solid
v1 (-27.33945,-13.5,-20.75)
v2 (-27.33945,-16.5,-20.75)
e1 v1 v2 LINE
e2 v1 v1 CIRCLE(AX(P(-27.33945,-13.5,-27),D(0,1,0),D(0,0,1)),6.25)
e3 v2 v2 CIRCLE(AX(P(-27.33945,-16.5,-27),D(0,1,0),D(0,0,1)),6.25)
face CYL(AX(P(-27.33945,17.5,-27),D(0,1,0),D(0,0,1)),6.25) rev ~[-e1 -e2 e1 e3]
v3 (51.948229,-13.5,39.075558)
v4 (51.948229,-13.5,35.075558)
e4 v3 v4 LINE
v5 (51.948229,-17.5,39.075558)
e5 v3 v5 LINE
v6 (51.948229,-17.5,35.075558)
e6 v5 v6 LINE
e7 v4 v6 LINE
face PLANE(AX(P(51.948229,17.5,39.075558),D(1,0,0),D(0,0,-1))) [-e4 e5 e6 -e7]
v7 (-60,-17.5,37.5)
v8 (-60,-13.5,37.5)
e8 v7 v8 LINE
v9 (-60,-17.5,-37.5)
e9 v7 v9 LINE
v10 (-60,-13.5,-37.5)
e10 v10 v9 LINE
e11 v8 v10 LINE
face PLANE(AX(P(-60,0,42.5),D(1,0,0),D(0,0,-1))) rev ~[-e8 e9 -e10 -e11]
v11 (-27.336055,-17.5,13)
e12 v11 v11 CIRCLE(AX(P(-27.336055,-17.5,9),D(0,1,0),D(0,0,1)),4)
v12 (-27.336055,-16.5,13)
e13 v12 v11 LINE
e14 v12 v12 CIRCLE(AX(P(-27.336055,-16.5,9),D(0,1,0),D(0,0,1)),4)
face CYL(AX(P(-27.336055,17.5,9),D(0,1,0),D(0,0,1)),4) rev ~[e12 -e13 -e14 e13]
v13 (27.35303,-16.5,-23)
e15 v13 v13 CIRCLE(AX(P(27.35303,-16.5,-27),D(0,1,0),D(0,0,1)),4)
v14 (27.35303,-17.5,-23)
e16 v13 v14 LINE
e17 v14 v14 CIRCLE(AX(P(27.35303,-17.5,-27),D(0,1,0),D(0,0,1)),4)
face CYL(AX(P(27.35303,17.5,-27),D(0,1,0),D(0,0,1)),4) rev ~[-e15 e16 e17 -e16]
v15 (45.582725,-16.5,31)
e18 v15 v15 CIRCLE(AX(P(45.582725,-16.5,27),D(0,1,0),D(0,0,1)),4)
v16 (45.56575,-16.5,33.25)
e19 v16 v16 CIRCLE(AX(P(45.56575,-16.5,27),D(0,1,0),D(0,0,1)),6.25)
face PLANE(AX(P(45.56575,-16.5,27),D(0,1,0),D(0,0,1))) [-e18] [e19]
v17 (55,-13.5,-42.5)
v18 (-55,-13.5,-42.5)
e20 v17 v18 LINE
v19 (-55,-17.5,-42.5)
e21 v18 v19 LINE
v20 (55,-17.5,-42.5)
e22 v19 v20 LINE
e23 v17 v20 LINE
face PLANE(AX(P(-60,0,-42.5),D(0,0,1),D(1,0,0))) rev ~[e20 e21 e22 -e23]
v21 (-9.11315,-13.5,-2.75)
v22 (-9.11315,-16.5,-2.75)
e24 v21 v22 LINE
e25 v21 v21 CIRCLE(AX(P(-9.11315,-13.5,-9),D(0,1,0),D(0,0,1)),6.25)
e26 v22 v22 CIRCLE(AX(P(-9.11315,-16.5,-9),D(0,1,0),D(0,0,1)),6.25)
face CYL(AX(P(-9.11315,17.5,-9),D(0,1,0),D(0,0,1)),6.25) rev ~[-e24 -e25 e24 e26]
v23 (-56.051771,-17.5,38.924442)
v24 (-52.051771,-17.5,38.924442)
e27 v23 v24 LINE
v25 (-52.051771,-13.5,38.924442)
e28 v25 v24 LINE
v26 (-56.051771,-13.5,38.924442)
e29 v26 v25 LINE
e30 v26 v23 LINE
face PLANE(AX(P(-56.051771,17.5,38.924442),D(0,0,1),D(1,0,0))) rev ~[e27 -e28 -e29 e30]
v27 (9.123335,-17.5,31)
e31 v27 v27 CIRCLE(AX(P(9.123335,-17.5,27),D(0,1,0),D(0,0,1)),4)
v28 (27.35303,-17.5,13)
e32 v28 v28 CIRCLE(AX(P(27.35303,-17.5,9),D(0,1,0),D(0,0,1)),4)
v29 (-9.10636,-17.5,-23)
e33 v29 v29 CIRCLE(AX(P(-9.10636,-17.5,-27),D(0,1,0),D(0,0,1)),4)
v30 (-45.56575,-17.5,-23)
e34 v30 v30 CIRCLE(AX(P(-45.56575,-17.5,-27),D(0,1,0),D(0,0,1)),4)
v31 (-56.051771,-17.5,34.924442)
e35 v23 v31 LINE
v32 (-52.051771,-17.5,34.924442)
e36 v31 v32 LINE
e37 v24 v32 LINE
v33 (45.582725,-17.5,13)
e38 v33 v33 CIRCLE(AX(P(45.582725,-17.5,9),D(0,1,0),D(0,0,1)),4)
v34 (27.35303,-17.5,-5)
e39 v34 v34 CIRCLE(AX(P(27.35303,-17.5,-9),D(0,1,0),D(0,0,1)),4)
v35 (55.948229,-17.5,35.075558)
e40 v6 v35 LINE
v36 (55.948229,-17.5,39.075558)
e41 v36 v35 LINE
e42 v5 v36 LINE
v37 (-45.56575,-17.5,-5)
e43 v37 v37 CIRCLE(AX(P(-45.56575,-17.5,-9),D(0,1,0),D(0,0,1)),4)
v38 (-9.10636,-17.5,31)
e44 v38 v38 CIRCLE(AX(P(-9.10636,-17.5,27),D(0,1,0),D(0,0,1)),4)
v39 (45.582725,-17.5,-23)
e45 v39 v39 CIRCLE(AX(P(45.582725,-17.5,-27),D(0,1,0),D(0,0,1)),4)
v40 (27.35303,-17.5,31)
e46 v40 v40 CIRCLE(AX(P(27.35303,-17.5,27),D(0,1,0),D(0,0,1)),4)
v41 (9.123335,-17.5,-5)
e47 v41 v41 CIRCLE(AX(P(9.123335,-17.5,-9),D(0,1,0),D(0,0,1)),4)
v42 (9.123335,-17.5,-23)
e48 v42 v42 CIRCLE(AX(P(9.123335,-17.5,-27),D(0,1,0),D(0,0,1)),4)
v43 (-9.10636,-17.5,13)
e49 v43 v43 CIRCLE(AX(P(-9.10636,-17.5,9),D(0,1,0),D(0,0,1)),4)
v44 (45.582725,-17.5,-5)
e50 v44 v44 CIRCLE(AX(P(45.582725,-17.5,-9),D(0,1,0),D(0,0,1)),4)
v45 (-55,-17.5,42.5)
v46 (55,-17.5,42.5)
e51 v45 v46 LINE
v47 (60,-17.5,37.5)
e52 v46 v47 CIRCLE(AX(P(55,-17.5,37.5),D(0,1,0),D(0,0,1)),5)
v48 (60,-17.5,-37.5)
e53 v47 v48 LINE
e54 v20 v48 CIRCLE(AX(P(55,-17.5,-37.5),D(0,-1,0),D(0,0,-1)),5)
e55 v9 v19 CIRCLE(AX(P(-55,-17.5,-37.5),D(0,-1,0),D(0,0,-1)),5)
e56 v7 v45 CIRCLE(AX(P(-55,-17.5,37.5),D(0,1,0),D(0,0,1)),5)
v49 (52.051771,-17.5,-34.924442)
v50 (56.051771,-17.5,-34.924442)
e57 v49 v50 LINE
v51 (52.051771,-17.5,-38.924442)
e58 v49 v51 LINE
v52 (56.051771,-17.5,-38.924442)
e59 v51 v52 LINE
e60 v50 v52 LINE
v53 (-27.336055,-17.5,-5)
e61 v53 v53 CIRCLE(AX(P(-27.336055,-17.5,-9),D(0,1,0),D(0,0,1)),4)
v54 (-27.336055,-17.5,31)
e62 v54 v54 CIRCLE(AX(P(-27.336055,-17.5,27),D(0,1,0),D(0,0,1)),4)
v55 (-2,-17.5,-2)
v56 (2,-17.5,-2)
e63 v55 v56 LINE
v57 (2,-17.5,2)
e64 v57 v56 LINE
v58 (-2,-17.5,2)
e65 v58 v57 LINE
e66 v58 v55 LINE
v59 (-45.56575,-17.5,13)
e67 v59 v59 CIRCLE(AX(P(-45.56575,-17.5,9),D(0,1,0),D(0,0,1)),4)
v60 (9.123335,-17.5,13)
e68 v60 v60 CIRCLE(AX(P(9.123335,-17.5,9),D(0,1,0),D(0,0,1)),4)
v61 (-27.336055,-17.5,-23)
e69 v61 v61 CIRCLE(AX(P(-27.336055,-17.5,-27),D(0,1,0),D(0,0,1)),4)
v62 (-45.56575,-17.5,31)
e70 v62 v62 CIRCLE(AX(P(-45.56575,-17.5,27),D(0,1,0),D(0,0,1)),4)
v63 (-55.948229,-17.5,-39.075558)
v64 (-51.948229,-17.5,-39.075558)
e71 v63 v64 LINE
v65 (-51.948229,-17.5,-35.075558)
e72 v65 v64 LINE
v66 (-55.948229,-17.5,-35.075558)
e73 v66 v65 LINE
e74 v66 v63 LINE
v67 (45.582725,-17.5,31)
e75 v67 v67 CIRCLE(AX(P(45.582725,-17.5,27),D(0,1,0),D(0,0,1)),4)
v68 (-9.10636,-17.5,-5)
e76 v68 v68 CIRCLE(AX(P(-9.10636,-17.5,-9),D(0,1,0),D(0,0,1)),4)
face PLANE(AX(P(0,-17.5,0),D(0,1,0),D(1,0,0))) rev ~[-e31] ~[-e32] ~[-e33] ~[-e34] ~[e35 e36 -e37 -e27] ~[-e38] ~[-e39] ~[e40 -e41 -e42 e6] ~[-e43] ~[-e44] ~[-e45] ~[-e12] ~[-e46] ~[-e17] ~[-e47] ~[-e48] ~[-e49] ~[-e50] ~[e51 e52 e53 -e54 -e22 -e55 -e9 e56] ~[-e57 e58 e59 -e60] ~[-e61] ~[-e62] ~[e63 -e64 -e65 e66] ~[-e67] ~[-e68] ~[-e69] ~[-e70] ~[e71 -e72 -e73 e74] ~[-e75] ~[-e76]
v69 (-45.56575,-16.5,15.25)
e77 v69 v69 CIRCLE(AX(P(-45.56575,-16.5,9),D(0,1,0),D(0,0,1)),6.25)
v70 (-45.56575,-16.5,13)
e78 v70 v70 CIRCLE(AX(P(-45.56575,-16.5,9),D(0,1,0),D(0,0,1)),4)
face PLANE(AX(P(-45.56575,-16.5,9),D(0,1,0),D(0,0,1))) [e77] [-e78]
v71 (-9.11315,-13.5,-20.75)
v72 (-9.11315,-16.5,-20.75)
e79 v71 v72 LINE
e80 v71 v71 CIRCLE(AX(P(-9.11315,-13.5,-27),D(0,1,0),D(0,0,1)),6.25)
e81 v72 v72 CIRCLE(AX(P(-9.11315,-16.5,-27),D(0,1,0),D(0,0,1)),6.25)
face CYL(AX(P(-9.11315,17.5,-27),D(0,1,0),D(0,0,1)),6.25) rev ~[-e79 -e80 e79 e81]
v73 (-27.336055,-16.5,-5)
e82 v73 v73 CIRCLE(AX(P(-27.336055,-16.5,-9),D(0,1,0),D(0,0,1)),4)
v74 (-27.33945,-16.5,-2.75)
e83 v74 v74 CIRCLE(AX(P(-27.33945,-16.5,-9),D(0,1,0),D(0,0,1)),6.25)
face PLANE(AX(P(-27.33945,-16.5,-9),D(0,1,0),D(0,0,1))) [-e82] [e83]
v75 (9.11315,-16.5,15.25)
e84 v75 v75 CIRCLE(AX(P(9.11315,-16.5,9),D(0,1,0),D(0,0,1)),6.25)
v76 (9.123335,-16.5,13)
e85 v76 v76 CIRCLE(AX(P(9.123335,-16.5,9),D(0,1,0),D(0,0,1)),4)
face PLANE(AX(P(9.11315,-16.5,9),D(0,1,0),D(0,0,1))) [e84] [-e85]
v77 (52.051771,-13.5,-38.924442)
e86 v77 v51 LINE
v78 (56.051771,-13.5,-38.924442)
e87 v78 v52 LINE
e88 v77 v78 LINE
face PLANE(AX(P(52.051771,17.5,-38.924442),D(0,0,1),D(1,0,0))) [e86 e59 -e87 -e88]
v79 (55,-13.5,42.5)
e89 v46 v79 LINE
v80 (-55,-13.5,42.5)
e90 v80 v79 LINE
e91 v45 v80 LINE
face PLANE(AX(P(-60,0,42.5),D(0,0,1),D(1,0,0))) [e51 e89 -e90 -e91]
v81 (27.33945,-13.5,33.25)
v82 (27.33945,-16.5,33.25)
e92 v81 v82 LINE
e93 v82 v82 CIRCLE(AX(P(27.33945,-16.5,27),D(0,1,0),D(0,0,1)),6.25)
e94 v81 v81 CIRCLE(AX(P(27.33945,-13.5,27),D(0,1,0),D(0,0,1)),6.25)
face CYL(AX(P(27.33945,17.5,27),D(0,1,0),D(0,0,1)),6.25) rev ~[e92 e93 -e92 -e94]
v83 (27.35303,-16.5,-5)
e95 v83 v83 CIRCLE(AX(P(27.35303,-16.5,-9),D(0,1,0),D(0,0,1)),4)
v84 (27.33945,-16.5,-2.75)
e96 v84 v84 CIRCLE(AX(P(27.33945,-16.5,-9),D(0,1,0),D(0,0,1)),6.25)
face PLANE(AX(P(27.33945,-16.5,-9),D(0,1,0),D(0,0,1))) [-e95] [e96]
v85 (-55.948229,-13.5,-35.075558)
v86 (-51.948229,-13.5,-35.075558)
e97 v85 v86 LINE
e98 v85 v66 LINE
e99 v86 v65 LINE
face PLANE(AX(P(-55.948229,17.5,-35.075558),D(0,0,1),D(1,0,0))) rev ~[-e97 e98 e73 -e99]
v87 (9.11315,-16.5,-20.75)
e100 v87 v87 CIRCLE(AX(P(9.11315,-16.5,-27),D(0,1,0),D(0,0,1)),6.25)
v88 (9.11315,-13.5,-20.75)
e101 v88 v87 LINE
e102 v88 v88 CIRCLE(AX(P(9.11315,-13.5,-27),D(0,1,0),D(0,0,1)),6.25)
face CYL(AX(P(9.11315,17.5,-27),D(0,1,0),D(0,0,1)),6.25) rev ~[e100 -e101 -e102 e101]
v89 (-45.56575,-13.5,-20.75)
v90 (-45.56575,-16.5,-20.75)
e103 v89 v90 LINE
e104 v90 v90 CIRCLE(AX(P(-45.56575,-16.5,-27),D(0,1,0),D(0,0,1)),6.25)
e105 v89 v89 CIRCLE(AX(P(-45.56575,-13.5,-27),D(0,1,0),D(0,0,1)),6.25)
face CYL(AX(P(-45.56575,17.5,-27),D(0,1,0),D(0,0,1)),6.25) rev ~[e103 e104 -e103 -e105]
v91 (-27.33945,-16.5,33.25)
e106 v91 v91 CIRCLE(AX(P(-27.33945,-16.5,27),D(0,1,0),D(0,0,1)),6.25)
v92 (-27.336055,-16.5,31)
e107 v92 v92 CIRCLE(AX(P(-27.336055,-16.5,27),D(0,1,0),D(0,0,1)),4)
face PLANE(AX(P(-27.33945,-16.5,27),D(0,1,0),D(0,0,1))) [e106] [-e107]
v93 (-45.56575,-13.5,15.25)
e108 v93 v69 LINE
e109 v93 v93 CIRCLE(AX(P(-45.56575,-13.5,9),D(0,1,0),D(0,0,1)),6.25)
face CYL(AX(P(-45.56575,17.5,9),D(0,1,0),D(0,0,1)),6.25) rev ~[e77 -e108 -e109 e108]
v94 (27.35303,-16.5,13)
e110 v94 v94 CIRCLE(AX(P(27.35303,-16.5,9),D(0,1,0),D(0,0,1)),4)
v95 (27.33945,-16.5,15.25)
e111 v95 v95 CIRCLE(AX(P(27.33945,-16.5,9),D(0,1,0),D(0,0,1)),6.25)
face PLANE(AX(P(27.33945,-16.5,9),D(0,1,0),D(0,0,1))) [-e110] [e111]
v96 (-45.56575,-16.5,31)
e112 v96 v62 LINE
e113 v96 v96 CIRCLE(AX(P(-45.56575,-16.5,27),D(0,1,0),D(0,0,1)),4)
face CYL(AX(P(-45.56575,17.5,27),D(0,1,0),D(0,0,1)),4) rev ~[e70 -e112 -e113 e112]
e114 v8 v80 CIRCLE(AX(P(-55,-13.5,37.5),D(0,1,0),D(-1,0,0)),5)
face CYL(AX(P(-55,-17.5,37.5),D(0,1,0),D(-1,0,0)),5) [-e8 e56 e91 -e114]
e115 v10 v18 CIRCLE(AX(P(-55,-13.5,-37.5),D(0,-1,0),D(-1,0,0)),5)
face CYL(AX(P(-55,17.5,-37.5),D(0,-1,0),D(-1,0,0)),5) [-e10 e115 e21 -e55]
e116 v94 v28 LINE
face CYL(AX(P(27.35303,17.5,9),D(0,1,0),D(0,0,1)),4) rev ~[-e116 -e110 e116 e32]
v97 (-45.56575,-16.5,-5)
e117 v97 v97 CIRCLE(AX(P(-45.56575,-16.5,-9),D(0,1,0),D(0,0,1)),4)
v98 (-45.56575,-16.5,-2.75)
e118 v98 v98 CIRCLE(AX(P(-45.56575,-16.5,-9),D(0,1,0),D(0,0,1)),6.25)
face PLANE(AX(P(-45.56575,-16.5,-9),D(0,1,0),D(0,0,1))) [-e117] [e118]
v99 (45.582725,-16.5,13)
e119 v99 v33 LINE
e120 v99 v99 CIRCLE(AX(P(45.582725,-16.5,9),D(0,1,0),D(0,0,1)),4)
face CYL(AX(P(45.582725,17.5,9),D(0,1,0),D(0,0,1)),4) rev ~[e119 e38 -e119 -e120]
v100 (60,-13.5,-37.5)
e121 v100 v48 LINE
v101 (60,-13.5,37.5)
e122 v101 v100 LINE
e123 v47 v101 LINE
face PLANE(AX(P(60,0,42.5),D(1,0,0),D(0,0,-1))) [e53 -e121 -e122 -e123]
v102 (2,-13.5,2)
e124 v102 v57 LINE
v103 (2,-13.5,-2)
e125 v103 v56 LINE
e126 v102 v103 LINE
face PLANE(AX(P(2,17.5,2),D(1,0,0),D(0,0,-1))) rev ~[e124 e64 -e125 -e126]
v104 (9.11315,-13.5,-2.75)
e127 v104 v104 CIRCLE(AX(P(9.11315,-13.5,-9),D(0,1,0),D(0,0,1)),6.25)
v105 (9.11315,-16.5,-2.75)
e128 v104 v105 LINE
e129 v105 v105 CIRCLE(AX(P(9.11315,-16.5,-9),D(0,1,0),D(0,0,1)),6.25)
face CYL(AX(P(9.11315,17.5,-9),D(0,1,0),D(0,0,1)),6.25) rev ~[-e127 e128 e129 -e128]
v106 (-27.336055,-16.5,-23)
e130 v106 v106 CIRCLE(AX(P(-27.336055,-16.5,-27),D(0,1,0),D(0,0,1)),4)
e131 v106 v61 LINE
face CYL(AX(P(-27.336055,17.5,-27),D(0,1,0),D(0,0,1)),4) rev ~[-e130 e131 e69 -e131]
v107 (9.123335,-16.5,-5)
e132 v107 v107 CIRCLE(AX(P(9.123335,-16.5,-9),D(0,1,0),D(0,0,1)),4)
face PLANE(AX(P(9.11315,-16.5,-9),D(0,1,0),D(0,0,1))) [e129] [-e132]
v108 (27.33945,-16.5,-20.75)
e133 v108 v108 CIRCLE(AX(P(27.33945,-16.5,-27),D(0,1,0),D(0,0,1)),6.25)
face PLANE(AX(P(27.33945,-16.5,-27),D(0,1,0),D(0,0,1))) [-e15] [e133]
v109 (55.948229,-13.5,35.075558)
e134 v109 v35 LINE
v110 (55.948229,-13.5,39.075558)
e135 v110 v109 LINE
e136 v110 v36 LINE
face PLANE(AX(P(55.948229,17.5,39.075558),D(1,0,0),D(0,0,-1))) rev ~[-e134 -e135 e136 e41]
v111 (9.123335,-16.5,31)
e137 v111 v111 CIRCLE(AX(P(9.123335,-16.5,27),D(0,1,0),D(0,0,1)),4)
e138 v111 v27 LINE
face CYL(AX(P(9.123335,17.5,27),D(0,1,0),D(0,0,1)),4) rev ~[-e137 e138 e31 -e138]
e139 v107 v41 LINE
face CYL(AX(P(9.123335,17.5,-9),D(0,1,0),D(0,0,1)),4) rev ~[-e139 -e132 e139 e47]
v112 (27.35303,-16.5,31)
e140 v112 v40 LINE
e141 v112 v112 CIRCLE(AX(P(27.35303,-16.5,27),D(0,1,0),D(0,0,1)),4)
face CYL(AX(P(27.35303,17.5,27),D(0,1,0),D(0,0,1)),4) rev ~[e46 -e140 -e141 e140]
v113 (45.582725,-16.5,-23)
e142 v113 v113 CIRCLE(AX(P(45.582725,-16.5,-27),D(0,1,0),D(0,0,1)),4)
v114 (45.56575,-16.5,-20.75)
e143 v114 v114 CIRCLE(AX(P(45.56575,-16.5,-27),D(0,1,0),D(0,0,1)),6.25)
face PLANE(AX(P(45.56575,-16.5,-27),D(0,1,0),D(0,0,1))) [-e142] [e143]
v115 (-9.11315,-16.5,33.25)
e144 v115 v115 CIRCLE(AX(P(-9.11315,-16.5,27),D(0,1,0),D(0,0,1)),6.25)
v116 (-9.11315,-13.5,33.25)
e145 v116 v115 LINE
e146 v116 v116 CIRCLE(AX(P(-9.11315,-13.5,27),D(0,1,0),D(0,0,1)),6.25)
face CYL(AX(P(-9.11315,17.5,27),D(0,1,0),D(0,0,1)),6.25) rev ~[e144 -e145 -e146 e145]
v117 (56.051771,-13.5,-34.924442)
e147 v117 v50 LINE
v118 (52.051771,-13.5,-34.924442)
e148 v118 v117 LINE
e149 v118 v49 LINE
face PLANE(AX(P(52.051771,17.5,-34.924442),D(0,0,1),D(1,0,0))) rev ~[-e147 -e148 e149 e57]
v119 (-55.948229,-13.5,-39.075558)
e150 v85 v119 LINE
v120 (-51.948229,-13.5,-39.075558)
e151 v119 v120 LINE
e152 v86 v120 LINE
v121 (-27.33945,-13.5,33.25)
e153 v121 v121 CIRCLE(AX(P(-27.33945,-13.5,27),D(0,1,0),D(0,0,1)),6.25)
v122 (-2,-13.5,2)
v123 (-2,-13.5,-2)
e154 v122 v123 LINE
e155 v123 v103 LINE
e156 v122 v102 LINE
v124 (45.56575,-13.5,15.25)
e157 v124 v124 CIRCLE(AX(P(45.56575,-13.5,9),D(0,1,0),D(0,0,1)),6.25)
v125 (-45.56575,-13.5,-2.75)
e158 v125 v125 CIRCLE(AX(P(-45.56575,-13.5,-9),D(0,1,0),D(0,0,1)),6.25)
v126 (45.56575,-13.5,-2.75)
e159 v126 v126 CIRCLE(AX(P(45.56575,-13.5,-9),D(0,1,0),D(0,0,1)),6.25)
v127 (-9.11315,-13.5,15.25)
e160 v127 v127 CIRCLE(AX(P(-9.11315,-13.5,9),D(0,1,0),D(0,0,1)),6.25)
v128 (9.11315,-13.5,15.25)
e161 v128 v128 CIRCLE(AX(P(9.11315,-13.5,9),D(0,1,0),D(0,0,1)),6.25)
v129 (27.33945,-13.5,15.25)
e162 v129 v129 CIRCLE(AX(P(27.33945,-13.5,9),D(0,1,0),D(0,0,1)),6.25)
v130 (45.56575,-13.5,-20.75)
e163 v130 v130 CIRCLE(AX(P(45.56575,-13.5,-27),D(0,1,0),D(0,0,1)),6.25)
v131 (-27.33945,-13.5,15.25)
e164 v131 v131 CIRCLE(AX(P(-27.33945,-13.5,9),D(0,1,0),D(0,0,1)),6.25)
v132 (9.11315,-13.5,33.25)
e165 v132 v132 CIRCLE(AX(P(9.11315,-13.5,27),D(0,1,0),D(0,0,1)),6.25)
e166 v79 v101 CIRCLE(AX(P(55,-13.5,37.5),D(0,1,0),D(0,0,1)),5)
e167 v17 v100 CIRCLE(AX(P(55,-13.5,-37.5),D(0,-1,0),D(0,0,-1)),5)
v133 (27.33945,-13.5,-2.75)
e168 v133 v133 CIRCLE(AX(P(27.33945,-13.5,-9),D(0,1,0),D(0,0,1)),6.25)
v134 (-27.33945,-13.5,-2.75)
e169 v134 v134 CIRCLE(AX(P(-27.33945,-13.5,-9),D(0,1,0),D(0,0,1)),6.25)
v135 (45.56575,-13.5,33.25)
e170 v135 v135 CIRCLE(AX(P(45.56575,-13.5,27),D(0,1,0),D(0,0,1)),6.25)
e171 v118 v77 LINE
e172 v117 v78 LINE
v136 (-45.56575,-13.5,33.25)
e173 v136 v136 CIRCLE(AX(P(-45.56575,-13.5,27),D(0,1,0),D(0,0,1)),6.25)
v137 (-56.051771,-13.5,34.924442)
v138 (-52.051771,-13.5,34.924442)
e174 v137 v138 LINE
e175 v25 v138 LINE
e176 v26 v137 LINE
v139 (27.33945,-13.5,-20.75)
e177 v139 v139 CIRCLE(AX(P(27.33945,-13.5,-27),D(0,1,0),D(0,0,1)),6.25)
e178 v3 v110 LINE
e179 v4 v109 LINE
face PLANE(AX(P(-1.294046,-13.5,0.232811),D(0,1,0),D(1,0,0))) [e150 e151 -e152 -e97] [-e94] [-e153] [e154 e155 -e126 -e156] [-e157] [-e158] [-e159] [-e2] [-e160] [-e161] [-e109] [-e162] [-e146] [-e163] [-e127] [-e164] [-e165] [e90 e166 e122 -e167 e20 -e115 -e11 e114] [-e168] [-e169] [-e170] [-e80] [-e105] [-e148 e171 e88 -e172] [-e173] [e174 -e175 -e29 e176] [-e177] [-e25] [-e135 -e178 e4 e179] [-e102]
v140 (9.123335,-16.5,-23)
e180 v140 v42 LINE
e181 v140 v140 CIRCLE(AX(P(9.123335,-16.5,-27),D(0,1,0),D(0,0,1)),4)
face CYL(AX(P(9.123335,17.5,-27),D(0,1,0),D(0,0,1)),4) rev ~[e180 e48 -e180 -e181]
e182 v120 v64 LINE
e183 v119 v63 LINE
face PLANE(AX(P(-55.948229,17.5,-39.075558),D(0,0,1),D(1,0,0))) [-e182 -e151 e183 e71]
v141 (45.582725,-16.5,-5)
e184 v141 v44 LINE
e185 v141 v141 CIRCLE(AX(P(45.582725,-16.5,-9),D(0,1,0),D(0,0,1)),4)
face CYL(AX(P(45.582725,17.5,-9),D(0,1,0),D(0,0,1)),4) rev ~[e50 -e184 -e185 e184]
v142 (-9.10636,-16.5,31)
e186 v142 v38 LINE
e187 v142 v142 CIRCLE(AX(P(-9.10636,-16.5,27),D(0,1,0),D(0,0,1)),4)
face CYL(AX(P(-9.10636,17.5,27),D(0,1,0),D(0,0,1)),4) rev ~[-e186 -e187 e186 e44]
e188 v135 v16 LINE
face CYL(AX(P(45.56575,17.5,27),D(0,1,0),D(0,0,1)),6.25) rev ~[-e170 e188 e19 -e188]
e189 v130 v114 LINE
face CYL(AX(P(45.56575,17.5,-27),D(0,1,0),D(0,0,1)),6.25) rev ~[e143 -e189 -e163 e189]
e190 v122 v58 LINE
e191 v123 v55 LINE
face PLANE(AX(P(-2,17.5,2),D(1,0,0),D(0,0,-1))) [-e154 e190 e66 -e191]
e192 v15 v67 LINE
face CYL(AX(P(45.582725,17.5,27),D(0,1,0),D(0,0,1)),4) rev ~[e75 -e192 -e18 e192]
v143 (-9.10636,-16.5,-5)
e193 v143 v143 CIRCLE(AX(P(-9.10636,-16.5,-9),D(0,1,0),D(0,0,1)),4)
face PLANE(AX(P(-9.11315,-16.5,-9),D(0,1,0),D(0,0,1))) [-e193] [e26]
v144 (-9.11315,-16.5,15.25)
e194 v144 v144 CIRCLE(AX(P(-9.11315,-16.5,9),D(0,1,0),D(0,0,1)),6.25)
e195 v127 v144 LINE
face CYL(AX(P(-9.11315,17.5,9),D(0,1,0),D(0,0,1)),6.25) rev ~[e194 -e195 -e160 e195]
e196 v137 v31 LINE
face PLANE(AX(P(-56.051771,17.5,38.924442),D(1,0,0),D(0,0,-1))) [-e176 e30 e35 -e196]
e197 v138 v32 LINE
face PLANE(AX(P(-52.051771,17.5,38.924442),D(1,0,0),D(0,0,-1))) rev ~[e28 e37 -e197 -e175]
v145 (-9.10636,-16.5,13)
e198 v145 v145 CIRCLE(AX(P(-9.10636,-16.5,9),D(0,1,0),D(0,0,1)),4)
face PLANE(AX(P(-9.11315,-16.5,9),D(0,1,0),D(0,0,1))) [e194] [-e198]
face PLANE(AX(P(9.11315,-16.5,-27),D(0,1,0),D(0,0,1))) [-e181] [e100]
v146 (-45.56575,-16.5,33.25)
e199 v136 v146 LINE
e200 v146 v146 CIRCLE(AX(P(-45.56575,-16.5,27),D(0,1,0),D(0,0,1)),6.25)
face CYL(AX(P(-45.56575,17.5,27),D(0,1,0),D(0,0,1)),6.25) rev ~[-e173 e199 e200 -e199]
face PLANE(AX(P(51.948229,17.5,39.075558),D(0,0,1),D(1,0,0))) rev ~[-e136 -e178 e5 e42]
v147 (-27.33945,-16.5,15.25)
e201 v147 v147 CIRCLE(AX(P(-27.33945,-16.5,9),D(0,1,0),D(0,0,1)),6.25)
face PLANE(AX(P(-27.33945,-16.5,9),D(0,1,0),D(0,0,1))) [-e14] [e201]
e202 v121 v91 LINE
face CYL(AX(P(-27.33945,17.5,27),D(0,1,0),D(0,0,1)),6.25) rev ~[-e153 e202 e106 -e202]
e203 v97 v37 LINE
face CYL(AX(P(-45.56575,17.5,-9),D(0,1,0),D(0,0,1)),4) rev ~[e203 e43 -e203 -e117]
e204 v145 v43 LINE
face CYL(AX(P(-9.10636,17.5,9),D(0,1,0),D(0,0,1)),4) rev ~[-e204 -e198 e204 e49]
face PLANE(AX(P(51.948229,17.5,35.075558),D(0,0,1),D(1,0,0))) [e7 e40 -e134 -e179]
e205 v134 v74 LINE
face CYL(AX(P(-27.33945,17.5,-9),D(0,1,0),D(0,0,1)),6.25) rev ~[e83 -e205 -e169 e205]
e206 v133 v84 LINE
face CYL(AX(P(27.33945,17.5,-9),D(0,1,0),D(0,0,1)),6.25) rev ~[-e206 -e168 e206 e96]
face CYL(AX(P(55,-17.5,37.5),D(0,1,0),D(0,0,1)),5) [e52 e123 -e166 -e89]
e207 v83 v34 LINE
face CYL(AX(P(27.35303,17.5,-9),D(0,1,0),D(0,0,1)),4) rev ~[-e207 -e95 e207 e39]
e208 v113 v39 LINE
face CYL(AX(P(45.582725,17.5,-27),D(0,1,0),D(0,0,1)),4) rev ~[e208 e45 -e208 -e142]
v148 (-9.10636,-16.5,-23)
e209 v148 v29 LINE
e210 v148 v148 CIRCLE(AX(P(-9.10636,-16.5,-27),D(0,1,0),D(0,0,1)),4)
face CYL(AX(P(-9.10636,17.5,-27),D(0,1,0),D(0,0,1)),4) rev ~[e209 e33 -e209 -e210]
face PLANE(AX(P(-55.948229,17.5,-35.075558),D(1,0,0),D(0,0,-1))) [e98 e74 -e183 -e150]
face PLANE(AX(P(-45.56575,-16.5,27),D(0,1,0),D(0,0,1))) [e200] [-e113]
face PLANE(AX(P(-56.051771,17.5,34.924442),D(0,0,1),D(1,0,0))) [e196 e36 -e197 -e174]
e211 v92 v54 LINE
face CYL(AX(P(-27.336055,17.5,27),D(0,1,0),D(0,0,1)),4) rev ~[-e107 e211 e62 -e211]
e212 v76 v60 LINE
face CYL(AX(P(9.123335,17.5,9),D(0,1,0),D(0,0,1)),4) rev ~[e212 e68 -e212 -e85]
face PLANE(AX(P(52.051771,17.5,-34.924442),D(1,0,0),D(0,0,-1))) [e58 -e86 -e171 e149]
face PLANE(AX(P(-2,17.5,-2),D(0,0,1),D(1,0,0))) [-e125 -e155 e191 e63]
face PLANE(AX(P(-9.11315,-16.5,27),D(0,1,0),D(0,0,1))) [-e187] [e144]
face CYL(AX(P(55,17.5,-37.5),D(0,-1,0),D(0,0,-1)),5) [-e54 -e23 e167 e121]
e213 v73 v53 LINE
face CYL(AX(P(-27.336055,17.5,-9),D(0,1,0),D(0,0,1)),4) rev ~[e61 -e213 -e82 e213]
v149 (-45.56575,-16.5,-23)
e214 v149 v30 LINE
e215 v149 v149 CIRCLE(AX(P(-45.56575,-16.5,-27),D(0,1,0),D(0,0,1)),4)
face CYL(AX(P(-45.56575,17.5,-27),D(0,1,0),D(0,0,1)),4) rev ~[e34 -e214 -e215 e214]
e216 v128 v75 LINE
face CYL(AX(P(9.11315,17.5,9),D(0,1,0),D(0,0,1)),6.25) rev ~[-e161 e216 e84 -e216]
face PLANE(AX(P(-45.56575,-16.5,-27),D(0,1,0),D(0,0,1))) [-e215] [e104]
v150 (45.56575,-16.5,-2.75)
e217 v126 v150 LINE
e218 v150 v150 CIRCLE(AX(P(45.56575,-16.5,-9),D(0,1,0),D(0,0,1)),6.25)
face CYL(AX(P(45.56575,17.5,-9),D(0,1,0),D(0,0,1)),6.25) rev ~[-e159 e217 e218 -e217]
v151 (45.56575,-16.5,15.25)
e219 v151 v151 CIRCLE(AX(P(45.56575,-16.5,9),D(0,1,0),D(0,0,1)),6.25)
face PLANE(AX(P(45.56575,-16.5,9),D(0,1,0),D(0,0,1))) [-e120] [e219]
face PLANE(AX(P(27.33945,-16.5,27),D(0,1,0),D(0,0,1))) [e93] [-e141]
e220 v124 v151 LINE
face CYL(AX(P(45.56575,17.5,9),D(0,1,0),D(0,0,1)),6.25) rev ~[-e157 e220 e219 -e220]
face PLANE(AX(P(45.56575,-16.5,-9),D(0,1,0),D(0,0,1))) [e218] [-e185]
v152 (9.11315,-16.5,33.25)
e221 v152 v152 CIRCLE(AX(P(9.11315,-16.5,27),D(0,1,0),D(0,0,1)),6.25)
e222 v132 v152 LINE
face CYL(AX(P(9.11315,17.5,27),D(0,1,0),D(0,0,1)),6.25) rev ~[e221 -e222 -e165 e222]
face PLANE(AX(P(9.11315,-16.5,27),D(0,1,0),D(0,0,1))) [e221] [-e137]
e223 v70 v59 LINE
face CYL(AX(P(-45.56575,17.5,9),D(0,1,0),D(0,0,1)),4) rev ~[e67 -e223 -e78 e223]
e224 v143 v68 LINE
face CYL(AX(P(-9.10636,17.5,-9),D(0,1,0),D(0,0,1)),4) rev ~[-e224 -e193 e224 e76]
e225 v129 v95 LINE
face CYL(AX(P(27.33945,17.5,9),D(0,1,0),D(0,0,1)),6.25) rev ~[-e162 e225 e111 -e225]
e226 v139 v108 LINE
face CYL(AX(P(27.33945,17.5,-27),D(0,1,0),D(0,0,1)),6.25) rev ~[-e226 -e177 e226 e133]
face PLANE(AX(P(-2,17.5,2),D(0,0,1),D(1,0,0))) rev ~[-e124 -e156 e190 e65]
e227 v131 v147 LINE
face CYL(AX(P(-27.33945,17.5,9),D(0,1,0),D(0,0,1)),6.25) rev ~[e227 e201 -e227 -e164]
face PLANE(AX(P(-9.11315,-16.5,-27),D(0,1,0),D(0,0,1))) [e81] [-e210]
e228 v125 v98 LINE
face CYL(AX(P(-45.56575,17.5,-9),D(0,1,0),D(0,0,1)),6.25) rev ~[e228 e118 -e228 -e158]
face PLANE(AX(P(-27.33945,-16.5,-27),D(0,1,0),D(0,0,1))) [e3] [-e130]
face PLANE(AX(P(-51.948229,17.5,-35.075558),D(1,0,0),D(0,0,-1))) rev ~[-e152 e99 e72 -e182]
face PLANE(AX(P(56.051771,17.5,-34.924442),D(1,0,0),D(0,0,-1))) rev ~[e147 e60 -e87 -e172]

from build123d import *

# Parameters (mm, degrees)
SKETCH1_W               = 120
SKETCH1_H               = 85
BOSS_EXTRUDE1_DEPTH     = 17.5
SKETCH2_R               = 6.25
CUT_EXTRUDE1_DEPTH      = 34
SKETCH5_R               = 4
CUT_EXTRUDE4_DEPTH      = 82.432487375
FILLET1_R               = 5
SKETCH3_W               = 104.211367546
SKETCH3_H               = 27
CUT_EXTRUDE2_DEPTH      = 106.50473923
SKETCH4_W               = 69.558922102
SKETCH4_H               = 27
CUT_EXTRUDE3_DEPTH      = 129.500972759
SKETCH6_W               = 4
SKETCH6_H               = 4
BOSS_EXTRUDE2_DEPTH     = 35
CHAMFER1_SIZE           = 1
CHAMFER3_SIZE           = 1
CUT_EXTRUDE8_DEPTH      = 76.581082289
CUT_EXTRUDE8_DEPTH_BACK = 13.5
SKETCH10_W              = 127.378136422
SKETCH10_H              = 96.398058909
SKETCH11_W              = 4
SKETCH11_H              = 4
CUT_EXTRUDE9_DEPTH      = 82.432487375


with BuildPart() as part:
    # Sketch1 → Boss-Extrude1 (new, symmetric)
    with BuildSketch(Plane(origin=(0, 0, 0), x_dir=(1, 0, 0), z_dir=(0, 1, 0))):
        Rectangle(SKETCH1_W, SKETCH1_H)
    extrude(amount=BOSS_EXTRUDE1_DEPTH, both=True)

    # Sketch2 → Cut-Extrude1 (cut)
    with BuildSketch(Plane(origin=(0, 17.5, 0), x_dir=(1, 0, 0), z_dir=(0, 1, 0))):
        with Locations(Location((-45.56575, 27, 0), (0, 0, 270))):
            Circle(SKETCH2_R)
        with Locations(Location((-27.33945, 27, 0), (0, 0, 270))):
            Circle(SKETCH2_R)
        with Locations(Location((-9.11315, 27, 0), (0, 0, 270))):
            Circle(SKETCH2_R)
        with Locations(Location((9.11315, 27, 0), (0, 0, 270))):
            Circle(SKETCH2_R)
        with Locations(Location((27.33945, 27, 0), (0, 0, 270))):
            Circle(SKETCH2_R)
        with Locations(Location((45.56575, 27, 0), (0, 0, 270))):
            Circle(SKETCH2_R)
        with Locations(Location((-27.33945, 9, 0), (0, 0, 270))):
            Circle(SKETCH2_R)
        with Locations(Location((-9.11315, 9, 0), (0, 0, 270))):
            Circle(SKETCH2_R)
        with Locations(Location((9.11315, 9, 0), (0, 0, 270))):
            Circle(SKETCH2_R)
        with Locations(Location((27.33945, 9, 0), (0, 0, 270))):
            Circle(SKETCH2_R)
        with Locations(Location((45.56575, 9, 0), (0, 0, 270))):
            Circle(SKETCH2_R)
        with Locations(Location((-27.33945, -9, 0), (0, 0, 270))):
            Circle(SKETCH2_R)
        with Locations(Location((-9.11315, -9, 0), (0, 0, 270))):
            Circle(SKETCH2_R)
        with Locations(Location((9.11315, -9, 0), (0, 0, 270))):
            Circle(SKETCH2_R)
        with Locations(Location((27.33945, -9, 0), (0, 0, 270))):
            Circle(SKETCH2_R)
        with Locations(Location((45.56575, -9, 0), (0, 0, 270))):
            Circle(SKETCH2_R)
        with Locations(Location((-27.33945, -27, 0), (0, 0, 270))):
            Circle(SKETCH2_R)
        with Locations(Location((-9.11315, -27, 0), (0, 0, 270))):
            Circle(SKETCH2_R)
        with Locations(Location((9.11315, -27, 0), (0, 0, 270))):
            Circle(SKETCH2_R)
        with Locations(Location((27.33945, -27, 0), (0, 0, 270))):
            Circle(SKETCH2_R)
        with Locations(Location((45.56575, -27, 0), (0, 0, 270))):
            Circle(SKETCH2_R)
        with Locations(Location((-45.56575, 9, 0), (0, 0, 270))):
            Circle(SKETCH2_R)
        with Locations(Location((-45.56575, -9, 0), (0, 0, 270))):
            Circle(SKETCH2_R)
        with Locations(Location((-45.56575, -27, 0), (0, 0, 270))):
            Circle(SKETCH2_R)
    extrude(amount=-CUT_EXTRUDE1_DEPTH, mode=Mode.SUBTRACT)

    # Sketch5 → Cut-Extrude4 (cut, through all)
    with BuildSketch(Plane(origin=(0, 17.5, 0), x_dir=(1, 0, 0), z_dir=(0, 1, 0))):
        with Locations(Location((-45.56575, 27, 0), (0, 0, 270))):
            Circle(SKETCH5_R)
        with Locations(Location((-27.336055, 27, 0), (0, 0, 270))):
            Circle(SKETCH5_R)
        with Locations(Location((-9.10636, 27, 0), (0, 0, 270))):
            Circle(SKETCH5_R)
        with Locations(Location((9.123335, 27, 0), (0, 0, 270))):
            Circle(SKETCH5_R)
        with Locations(Location((27.35303, 27, 0), (0, 0, 270))):
            Circle(SKETCH5_R)
        with Locations(Location((45.582725, 27, 0), (0, 0, 270))):
            Circle(SKETCH5_R)
        with Locations(Location((-27.336055, 9, 0), (0, 0, 270))):
            Circle(SKETCH5_R)
        with Locations(Location((-9.10636, 9, 0), (0, 0, 270))):
            Circle(SKETCH5_R)
        with Locations(Location((9.123335, 9, 0), (0, 0, 270))):
            Circle(SKETCH5_R)
        with Locations(Location((27.35303, 9, 0), (0, 0, 270))):
            Circle(SKETCH5_R)
        with Locations(Location((45.582725, 9, 0), (0, 0, 270))):
            Circle(SKETCH5_R)
        with Locations(Location((-27.336055, -9, 0), (0, 0, 270))):
            Circle(SKETCH5_R)
        with Locations(Location((-9.10636, -9, 0), (0, 0, 270))):
            Circle(SKETCH5_R)
        with Locations(Location((9.123335, -9, 0), (0, 0, 270))):
            Circle(SKETCH5_R)
        with Locations(Location((27.35303, -9, 0), (0, 0, 270))):
            Circle(SKETCH5_R)
        with Locations(Location((45.582725, -9, 0), (0, 0, 270))):
            Circle(SKETCH5_R)
        with Locations(Location((-27.336055, -27, 0), (0, 0, 270))):
            Circle(SKETCH5_R)
        with Locations(Location((-9.10636, -27, 0), (0, 0, 270))):
            Circle(SKETCH5_R)
        with Locations(Location((9.123335, -27, 0), (0, 0, 270))):
            Circle(SKETCH5_R)
        with Locations(Location((27.35303, -27, 0), (0, 0, 270))):
            Circle(SKETCH5_R)
        with Locations(Location((45.582725, -27, 0), (0, 0, 270))):
            Circle(SKETCH5_R)
        with Locations(Location((-45.56575, 9, 0), (0, 0, 270))):
            Circle(SKETCH5_R)
        with Locations(Location((-45.56575, -9, 0), (0, 0, 270))):
            Circle(SKETCH5_R)
        with Locations(Location((-45.56575, -27, 0), (0, 0, 270))):
            Circle(SKETCH5_R)
    extrude(amount=-CUT_EXTRUDE4_DEPTH, mode=Mode.SUBTRACT)

    # Fillet1
    fillet1_edges = [part.edges().sort_by_distance(p)[0] for p in [
        (60, 0, 42.5),
        (-60, 0, 42.5),
        (-60, 0, -42.5),
        (60, 0, -42.5),
    ]]
    fillet(fillet1_edges, radius=FILLET1_R)

    # Sketch3 → Cut-Extrude2 (cut, through all)
    with BuildSketch(Plane(origin=(0, 0, -42.5), x_dir=(-1, 0, 0), z_dir=(0, 0, -1))):
        Rectangle(SKETCH3_W, SKETCH3_H)
    extrude(amount=-CUT_EXTRUDE2_DEPTH, mode=Mode.SUBTRACT)

    # Sketch4 → Cut-Extrude3 (cut, through all)
    with BuildSketch(Plane(origin=(60, 0, 0), x_dir=(0, 0, -1), z_dir=(1, 0, 0))):
        Rectangle(SKETCH4_W, SKETCH4_H)
    extrude(amount=-CUT_EXTRUDE3_DEPTH, mode=Mode.SUBTRACT)

    # Sketch6 → Boss-Extrude2 (add)
    with BuildSketch(Plane(origin=(0, 17.5, 0), x_dir=(1, 0, 0), z_dir=(0, 1, 0))):
        Rectangle(SKETCH6_W, SKETCH6_H)
    extrude(amount=-BOSS_EXTRUDE2_DEPTH)

    # Chamfer1
    chamfer1_edges = [part.edges().sort_by_distance(p)[0] for p in [
        (0, 13.5, -2),
        (-2, 13.5, 0),
        (0, 13.5, 2),
        (2, 13.5, 0),
        (2, -13.5, 0),
        (0, -13.5, 2),
        (-2, -13.5, 0),
        (0, -13.5, -2),
    ]]
    chamfer(chamfer1_edges, length=CHAMFER1_SIZE)

    # Chamfer3
    chamfer3_edges = [part.edges().sort_by_distance(p)[0] for p in [
        (-45.56575, 17.5, -33.25),
        (-27.33945, 17.5, -33.25),
        (-9.11315, 17.5, -33.25),
        (9.11315, 17.5, -33.25),
        (27.33945, 17.5, -33.25),
        (45.56575, 17.5, -33.25),
        (-27.33945, 17.5, -15.25),
        (-9.11315, 17.5, -15.25),
        (9.11315, 17.5, -15.25),
        (27.33945, 17.5, -15.25),
        (45.56575, 17.5, -15.25),
        (-27.33945, 17.5, 2.75),
        (-9.11315, 17.5, 2.75),
        (9.11315, 17.5, 2.75),
        (27.33945, 17.5, 2.75),
        (45.56575, 17.5, 2.75),
        (-27.33945, 17.5, 20.75),
        (-9.11315, 17.5, 20.75),
        (9.11315, 17.5, 20.75),
        (27.33945, 17.5, 20.75),
        (45.56575, 17.5, 20.75),
        (-45.56575, 17.5, -15.25),
        (-45.56575, 17.5, 2.75),
        (-45.56575, 17.5, 20.75),
    ]]
    chamfer(chamfer3_edges, length=CHAMFER3_SIZE)

    # Sketch10 → Cut-Extrude8 (cut, two sides: drawn at the far end of the back side and taken through both)
    with BuildSketch(Plane(origin=(0, 0, 0), x_dir=(1, 0, 0), z_dir=(0, 1, 0)).offset(-CUT_EXTRUDE8_DEPTH_BACK)):
        with Locations((-1.294046217, -0.232811032)):
            Rectangle(SKETCH10_W, SKETCH10_H)
    extrude(amount=CUT_EXTRUDE8_DEPTH + CUT_EXTRUDE8_DEPTH_BACK, mode=Mode.SUBTRACT)

    # Sketch11 → Cut-Extrude9 (cut, through all)
    with BuildSketch(Plane(origin=(0, 17.5, 0), x_dir=(1, 0, 0), z_dir=(0, 1, 0))):
        with Locations((-54.051771282, -36.924441912)):
            Rectangle(SKETCH11_W, SKETCH11_H)
        with Locations((53.948228718, -37.075558088)):
            Rectangle(SKETCH11_W, SKETCH11_H)
        with Locations((54.051771282, 36.924441912)):
            Rectangle(SKETCH11_W, SKETCH11_H)
        with Locations((-53.948228718, 37.075558088)):
            Rectangle(SKETCH11_W, SKETCH11_H)
        Rectangle(SKETCH11_W, SKETCH11_H)
    extrude(amount=-CUT_EXTRUDE9_DEPTH, mode=Mode.SUBTRACT)


solid = part.part
